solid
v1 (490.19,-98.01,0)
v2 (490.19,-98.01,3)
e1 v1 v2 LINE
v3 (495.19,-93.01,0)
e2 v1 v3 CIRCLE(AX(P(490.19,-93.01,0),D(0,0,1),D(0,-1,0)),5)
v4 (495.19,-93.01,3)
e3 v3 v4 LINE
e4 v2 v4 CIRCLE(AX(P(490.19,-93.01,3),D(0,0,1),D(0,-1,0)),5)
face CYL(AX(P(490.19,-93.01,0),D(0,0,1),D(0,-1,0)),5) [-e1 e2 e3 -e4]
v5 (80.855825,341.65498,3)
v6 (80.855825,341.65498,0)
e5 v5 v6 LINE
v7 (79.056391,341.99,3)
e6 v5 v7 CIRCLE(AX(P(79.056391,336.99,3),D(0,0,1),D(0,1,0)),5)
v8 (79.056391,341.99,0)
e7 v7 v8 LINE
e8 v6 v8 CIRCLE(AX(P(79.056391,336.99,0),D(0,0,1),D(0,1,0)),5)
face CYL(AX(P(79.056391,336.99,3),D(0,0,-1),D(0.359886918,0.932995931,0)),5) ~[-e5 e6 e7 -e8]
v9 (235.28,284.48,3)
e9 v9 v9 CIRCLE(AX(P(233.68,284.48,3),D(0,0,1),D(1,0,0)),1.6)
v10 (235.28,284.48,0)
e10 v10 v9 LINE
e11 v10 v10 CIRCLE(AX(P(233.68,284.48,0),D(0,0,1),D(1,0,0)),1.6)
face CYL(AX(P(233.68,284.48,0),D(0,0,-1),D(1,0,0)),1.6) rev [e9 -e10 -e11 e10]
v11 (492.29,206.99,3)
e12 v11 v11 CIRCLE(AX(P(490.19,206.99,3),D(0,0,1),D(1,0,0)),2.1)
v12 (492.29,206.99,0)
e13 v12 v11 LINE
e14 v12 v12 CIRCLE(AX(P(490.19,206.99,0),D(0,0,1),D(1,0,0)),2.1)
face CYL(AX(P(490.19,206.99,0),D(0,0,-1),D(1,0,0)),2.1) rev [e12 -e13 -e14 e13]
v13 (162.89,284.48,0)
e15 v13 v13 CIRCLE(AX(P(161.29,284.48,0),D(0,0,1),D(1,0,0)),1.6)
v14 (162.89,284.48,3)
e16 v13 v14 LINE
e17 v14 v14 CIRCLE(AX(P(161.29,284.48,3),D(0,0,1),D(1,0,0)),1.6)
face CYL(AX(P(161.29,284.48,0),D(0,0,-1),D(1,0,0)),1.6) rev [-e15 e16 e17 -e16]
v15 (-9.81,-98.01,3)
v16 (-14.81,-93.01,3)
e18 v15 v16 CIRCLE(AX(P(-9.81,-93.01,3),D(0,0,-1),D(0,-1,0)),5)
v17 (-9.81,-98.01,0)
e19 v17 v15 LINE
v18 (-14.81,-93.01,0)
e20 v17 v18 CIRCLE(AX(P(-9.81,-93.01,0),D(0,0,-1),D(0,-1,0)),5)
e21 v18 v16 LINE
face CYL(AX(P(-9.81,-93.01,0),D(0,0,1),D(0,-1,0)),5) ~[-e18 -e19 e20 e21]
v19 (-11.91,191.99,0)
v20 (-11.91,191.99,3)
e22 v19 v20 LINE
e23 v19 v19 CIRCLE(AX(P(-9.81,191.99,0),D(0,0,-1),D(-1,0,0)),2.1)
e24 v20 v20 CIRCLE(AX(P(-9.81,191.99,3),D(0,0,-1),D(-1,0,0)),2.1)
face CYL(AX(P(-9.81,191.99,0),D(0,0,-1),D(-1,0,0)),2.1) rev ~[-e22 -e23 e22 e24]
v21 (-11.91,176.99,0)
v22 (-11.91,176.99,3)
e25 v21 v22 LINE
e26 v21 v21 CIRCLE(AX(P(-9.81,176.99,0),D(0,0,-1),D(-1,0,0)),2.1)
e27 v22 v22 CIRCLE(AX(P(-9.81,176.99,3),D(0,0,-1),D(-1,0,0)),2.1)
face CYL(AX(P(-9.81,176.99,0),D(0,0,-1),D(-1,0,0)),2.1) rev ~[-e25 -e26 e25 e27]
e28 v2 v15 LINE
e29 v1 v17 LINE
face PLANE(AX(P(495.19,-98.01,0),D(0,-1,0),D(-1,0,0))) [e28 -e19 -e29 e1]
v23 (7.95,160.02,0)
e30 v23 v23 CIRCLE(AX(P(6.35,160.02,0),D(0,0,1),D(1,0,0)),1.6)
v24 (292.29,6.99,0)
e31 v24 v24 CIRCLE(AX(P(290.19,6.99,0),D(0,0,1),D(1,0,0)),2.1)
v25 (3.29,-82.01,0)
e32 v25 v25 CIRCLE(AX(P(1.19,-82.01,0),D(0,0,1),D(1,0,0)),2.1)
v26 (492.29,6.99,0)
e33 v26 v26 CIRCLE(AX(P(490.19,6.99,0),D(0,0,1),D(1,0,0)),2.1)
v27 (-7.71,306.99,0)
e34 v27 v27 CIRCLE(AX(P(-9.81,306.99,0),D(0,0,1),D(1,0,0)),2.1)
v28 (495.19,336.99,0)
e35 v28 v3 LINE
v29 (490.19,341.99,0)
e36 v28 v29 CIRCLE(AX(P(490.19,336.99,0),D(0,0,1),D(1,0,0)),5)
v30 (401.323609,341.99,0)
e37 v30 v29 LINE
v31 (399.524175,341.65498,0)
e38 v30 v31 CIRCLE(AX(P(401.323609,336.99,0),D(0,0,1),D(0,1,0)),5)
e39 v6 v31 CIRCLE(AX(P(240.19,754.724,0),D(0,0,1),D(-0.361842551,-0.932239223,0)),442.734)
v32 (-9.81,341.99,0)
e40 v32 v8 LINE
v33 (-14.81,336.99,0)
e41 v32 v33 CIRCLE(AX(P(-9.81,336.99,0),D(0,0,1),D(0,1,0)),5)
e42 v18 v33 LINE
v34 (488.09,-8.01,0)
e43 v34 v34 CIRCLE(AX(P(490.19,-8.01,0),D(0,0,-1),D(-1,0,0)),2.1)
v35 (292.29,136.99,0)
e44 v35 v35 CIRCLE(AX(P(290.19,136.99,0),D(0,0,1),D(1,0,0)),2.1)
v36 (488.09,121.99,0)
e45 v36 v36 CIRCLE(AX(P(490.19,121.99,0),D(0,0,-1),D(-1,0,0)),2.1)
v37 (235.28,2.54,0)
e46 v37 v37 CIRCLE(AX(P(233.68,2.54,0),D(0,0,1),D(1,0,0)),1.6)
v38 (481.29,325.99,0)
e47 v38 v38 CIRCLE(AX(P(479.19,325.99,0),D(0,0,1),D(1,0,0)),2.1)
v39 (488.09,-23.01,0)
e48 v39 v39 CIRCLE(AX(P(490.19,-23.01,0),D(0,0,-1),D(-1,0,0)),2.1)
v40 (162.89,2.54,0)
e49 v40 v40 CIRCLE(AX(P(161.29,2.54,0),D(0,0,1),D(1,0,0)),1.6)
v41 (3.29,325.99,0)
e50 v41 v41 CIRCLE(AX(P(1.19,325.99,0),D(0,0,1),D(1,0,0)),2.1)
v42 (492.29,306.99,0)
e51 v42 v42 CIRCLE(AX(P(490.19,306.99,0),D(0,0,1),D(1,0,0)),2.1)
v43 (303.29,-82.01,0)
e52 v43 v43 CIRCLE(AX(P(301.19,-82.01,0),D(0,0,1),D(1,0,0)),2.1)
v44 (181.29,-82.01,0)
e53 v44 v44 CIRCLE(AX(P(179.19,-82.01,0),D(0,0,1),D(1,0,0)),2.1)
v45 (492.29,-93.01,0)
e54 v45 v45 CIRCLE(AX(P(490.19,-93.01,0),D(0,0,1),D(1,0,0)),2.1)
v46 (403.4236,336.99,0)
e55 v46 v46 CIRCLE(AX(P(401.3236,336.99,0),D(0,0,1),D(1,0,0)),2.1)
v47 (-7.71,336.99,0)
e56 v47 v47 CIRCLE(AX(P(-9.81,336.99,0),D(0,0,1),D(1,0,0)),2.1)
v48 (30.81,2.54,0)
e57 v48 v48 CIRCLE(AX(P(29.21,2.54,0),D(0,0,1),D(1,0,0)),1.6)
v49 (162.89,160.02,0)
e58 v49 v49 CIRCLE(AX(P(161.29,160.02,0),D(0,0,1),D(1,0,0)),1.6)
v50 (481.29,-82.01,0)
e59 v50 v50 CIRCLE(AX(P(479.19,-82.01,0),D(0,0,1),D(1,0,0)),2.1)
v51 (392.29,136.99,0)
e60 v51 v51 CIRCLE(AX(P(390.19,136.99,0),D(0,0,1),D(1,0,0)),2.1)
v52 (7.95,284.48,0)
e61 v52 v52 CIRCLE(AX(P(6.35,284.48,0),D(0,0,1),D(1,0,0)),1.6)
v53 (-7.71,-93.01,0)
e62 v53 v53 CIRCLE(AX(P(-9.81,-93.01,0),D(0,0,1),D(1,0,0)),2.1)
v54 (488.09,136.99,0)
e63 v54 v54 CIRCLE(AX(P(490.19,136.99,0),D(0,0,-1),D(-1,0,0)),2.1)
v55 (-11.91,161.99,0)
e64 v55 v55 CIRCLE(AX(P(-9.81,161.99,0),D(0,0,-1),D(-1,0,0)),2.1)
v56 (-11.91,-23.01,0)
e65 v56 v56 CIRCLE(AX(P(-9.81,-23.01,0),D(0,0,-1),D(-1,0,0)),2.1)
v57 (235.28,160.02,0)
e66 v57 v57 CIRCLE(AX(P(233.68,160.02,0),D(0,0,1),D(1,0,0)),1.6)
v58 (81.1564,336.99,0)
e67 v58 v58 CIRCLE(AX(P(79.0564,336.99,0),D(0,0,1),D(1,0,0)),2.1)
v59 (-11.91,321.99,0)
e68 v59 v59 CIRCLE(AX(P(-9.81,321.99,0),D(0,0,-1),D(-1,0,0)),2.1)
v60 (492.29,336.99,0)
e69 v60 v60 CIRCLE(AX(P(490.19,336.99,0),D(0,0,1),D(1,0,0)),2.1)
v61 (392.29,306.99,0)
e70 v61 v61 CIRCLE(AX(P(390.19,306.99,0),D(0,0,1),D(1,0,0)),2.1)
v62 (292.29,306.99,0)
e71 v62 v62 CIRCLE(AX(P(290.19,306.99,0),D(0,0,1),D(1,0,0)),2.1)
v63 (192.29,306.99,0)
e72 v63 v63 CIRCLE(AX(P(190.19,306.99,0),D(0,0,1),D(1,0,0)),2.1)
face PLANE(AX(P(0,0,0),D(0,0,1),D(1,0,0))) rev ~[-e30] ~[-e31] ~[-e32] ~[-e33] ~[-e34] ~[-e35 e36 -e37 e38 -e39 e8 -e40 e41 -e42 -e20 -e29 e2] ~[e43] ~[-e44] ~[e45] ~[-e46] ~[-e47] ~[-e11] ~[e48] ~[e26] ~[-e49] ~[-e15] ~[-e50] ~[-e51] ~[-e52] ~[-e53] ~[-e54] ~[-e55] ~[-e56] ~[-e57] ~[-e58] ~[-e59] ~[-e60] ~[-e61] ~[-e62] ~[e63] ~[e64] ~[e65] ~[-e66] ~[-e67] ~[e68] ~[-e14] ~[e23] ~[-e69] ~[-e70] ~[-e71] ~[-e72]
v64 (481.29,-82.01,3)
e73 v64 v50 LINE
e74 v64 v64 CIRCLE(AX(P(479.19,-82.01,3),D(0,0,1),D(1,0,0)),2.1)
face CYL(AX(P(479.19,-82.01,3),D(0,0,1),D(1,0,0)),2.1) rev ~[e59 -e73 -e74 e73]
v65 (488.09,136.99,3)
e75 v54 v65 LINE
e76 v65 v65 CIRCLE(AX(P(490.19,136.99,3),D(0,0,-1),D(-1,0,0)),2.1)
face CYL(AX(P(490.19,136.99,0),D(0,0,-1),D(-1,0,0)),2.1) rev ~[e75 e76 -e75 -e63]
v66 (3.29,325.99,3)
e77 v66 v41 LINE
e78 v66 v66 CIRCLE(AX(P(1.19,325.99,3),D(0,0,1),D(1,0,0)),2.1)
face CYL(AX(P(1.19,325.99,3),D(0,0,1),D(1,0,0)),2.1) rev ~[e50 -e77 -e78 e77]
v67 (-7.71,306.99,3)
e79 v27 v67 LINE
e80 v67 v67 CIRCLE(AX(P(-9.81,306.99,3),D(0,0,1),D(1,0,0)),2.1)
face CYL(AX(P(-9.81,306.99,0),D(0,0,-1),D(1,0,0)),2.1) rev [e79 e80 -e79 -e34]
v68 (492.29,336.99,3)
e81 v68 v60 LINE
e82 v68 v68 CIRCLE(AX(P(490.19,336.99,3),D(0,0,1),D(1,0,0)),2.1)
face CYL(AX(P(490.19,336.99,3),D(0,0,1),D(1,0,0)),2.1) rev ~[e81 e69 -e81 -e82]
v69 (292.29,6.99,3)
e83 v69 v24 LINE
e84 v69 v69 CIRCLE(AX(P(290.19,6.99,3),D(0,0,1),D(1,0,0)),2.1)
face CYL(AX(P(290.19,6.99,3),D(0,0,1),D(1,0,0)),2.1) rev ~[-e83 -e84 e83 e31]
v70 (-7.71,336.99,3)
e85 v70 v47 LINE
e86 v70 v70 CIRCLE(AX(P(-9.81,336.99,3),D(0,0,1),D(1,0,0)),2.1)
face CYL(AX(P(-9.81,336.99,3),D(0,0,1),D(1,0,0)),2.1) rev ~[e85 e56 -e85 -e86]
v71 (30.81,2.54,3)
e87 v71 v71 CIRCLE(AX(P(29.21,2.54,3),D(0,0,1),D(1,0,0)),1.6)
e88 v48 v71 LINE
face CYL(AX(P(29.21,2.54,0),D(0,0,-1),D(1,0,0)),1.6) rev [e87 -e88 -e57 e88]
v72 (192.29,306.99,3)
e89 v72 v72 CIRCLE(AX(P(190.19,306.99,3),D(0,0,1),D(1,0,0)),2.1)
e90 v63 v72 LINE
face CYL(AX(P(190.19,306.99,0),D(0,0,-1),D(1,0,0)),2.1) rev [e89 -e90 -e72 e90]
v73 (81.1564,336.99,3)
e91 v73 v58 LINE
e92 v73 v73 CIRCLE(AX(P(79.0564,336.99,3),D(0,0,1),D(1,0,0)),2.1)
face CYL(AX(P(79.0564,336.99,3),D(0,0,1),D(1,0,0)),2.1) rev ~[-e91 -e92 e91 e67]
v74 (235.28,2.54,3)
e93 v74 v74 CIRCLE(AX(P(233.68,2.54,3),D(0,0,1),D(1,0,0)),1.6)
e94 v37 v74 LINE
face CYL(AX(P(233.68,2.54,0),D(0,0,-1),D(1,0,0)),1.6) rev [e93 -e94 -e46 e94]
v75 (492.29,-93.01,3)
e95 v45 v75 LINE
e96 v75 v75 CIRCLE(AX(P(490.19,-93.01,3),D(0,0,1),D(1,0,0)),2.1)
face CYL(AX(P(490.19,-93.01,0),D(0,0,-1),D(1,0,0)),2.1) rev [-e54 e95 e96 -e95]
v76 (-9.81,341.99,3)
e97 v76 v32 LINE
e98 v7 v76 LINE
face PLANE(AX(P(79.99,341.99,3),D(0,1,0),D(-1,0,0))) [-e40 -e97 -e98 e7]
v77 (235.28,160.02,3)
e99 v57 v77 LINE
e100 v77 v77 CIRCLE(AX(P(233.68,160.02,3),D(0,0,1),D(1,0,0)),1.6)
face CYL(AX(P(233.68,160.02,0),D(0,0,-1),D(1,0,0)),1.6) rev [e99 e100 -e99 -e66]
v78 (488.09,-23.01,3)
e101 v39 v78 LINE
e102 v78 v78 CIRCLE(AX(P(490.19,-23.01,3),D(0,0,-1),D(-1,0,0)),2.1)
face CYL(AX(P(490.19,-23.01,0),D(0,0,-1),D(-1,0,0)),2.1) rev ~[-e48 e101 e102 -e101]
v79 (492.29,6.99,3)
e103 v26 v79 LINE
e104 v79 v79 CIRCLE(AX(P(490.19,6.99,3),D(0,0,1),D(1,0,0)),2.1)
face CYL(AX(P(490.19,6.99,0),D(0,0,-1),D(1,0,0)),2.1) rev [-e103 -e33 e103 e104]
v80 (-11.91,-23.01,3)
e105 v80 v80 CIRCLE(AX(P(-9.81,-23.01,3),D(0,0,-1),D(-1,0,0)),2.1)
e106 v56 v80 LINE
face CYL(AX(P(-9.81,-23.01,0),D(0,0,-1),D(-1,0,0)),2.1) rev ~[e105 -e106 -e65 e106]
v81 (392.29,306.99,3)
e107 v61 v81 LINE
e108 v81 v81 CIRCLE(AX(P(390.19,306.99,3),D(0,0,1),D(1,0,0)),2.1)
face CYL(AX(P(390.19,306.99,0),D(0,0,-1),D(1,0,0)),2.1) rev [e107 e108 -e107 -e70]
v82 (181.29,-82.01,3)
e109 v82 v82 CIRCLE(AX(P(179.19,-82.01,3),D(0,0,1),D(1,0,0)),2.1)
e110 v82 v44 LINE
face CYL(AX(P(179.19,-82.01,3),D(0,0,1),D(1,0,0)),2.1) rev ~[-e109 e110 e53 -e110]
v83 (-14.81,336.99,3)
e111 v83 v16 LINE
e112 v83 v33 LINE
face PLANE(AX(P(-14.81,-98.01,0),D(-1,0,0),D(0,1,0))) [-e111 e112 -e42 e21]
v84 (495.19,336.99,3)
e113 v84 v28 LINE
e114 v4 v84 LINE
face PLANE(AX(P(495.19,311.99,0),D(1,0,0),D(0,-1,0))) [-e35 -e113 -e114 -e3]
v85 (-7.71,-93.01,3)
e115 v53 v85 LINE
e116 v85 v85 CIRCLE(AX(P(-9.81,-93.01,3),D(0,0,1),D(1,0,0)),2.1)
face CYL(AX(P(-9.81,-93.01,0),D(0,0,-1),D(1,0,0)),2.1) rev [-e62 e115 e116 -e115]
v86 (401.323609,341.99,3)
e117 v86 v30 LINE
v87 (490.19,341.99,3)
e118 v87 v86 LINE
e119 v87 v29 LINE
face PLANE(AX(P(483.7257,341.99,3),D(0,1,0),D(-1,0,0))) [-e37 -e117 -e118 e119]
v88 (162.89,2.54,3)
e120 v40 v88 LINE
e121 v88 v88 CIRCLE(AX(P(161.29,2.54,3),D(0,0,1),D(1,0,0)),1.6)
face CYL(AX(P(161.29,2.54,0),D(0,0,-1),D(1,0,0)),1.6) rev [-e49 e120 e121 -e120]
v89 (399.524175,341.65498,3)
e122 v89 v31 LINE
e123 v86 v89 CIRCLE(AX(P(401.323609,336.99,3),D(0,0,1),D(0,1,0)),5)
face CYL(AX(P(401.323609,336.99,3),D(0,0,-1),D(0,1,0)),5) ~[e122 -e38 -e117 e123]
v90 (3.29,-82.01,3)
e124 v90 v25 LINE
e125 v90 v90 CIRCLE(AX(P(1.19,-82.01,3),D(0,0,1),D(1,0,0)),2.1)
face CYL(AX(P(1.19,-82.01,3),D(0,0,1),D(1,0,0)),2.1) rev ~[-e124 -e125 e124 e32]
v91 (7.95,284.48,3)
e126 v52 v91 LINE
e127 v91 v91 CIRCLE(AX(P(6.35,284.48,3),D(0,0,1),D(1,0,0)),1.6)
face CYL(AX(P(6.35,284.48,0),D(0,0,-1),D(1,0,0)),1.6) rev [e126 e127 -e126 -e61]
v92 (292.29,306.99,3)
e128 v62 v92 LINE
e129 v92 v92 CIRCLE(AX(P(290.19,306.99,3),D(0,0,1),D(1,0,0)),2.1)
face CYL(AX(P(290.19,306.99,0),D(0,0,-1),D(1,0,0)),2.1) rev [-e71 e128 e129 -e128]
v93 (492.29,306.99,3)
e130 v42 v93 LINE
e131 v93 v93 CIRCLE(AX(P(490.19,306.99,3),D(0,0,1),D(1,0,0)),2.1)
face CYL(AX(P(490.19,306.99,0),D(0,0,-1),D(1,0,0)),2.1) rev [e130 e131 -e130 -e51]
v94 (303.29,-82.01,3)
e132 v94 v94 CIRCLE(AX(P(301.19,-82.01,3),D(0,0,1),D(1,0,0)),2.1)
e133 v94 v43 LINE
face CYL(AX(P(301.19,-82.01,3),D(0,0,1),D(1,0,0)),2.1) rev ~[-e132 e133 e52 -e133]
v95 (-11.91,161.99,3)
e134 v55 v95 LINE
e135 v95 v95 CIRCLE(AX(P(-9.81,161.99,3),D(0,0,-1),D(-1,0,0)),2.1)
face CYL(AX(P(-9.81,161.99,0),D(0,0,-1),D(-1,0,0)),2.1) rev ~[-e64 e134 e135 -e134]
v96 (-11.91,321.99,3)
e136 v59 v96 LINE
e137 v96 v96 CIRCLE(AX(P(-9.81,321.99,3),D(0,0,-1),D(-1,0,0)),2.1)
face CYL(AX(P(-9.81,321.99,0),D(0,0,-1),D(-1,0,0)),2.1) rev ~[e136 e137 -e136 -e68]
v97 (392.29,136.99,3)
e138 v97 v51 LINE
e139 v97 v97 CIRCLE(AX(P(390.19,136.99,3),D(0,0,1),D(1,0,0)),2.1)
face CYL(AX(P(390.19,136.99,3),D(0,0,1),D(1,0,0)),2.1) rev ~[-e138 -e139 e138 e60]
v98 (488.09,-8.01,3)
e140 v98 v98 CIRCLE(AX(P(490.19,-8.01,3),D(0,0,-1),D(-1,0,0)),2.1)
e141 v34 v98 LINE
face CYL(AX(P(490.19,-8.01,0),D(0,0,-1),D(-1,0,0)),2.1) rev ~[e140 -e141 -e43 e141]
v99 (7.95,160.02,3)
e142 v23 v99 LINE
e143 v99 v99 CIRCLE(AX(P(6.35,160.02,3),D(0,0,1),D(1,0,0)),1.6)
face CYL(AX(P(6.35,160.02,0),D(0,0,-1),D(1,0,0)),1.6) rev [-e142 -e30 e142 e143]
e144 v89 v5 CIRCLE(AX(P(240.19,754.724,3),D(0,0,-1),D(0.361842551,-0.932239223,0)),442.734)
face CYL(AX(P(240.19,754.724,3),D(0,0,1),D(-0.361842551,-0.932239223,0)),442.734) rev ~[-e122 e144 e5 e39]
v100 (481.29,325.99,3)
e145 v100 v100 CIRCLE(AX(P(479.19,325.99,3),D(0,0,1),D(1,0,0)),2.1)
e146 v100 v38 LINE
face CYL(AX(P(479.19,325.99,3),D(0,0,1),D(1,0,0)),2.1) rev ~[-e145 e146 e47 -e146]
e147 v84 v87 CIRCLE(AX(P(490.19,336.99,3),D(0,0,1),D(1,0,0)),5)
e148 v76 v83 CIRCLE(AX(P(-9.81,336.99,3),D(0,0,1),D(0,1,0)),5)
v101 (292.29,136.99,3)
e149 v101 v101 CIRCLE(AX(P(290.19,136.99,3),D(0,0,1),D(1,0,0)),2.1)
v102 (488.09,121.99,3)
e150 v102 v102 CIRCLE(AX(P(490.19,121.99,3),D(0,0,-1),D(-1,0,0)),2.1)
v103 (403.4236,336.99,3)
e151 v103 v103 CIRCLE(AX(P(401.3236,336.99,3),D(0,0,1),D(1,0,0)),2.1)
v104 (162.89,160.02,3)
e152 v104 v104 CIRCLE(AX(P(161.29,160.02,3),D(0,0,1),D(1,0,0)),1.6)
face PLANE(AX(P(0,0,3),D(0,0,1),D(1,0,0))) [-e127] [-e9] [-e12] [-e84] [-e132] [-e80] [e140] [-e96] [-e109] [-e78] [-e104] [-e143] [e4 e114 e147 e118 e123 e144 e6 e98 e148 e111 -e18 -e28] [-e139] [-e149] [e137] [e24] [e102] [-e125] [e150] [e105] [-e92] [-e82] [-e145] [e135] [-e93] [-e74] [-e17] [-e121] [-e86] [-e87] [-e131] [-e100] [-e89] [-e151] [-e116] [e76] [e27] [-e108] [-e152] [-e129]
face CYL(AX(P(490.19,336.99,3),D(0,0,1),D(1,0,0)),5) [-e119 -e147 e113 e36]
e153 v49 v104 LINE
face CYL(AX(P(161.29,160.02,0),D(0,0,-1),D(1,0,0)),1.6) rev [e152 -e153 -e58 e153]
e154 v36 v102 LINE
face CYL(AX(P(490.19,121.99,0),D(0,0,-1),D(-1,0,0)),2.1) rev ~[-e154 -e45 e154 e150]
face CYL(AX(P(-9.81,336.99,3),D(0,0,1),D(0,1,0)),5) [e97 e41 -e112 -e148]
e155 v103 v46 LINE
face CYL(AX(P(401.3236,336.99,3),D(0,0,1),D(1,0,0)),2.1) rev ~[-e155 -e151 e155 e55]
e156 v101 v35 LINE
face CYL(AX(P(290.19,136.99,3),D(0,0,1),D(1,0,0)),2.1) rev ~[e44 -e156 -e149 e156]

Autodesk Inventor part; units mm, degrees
ref_plane "YZ Plane" through (0, 0, 0) normal (1, 0, 0) x (0, 1, 0)
ref_plane "XZ Plane" through (0, 0, 0) normal (0, 1, 0) x (-1, 0, 0)
ref_plane "XY Plane" through (0, 0, 0) normal (0, 0, 1) x (1, 0, 0)
sketch "スケッチ1" plane through (0, 0, 0) normal (0, 0, 1) x (1, 0, 0)
  circle A0 centre (233.68, 2.54) radius 2.25 construction
  circle A1 centre (161.29, 2.54) radius 2.25 construction
  circle A2 centre (29.21, 2.54) radius 2.25 construction
  circle A3 centre (233.68, 160.02) radius 2.25 construction
  circle A4 centre (161.29, 160.02) radius 2.25 construction
  circle A5 centre (6.35, 160.02) radius 2.25 construction
  circle A6 centre (6.35, 284.48) radius 2.25 construction
  circle A7 centre (161.29, 284.48) radius 2.25 construction
  circle A8 centre (233.68, 284.48) radius 2.25 construction
  circle A9 centre (29.21, 2.54) radius 1.6
  circle A10 centre (161.29, 2.54) radius 1.6
  circle A11 centre (233.68, 2.54) radius 1.6
  circle A12 centre (233.68, 160.02) radius 1.6
  circle A13 centre (161.29, 160.02) radius 1.6
  circle A14 centre (6.35, 160.02) radius 1.6
  circle A15 centre (6.35, 284.48) radius 1.6
  circle A16 centre (161.29, 284.48) radius 1.6
  circle A17 centre (233.68, 284.48) radius 1.6
  line L0 (495.19, -98.01) -> (-14.81, -98.01)
  line L1 (-14.81, -98.01) -> (-14.81, 311.99)
  line L2 (-14.81, 311.99) -> (495.19, 311.99)
  line L3 (495.19, 311.99) -> (495.19, -98.01)
  line L4 (490.19, 306.99) -> (-9.81, 306.99) construction
  line L5 (-9.81, 306.99) -> (-9.81, -93.01) construction
  line L6 (-9.81, -93.01) -> (490.19, -93.01) construction
  line L7 (490.19, -93.01) -> (490.19, 306.99) construction
  circle A18 centre (-9.81, 306.99) radius 2.1
  circle A19 centre (490.19, 306.99) radius 2.1
  circle A20 centre (490.19, -93.01) radius 2.1
  circle A21 centre (-9.81, -93.01) radius 2.1
  circle A22 centre (-9.81, 6.99) radius 2.1
  circle A23 centre (-9.81, 106.99) radius 2.1
  circle A24 centre (-9.81, 206.99) radius 2.1
  circle A25 centre (90.19, 306.99) radius 2.1
  circle A26 centre (190.19, 306.99) radius 2.1
  circle A27 centre (290.19, 306.99) radius 2.1
  circle A28 centre (390.19, 306.99) radius 2.1
  line L8 (490.19, 106.99) -> (-9.81, 106.99) construction
  line L9 (240.19, -93.01) -> (240.19, 306.99) construction
  circle A29 centre (90.19, -93.01) radius 2.1
  circle A30 centre (190.19, -93.01) radius 2.1
  circle A31 centre (290.19, -93.01) radius 2.1
  circle A32 centre (390.19, -93.01) radius 2.1
  circle A33 centre (490.19, 6.99) radius 2.1
  circle A34 centre (490.19, 106.99) radius 2.1
  circle A35 centre (490.19, 206.99) radius 2.1
  point P0 (0, 0)
  point P1 (-3.81, 297.18)
  point P2 (0, 300.99)
  point P3 (3.7629, -59.9187)
  point P4 (-9.81, 106.99)
  dimension "d0" = 3.2
  dimension "d1" = 510
  dimension "d2" = 410
  dimension "d3" = 11
  dimension "d4" = 11
  dimension "d5" = 5
  dimension "d6" = 4.2
  dimension "d7" = 4.2
  dimension "d8" = 4.2
  dimension "d9" = 4.2
  dimension "d10" = 100
  dimension "d11" = 100
  dimension "d13" = 100
  dimension "d14" = 100
  dimension "d15" = 100
  dimension "d16" = 100
  dimension "d17" = 100
  dimension "d18" = 100
  dimension "d19" = 100
  dimension "d23" = 4.2
  dimension "d24" = 4.2
  dimension "d25" = 4.2
  dimension "d26" = 100
  dimension "d27" = 100
  dimension "d55" = 100
extrude "押し出し1" add sketch "スケッチ1" along normal blind 3
fillet "フィレット1" radius 5 4 edges at (495.19, -98.01, 1.5) (-14.81, -98.01, 1.5) (-14.81, 311.99, 1.5) (495.19, 311.99, 1.5)
sketch "スケッチ2" plane through (0, 0, 3) normal (0, 0, 1) x (1, 0, 0)
  line L0 (-6.934, 160.0686) -> (-6.134, 160.0686) construction
  line L1 (-6.134, 160.0686) -> (-6.134, 170.6186) construction
  line L2 (-6.134, 170.6186) -> (-6.934, 170.6186) construction
  line L3 (-6.934, 170.6186) -> (-6.934, 160.0686) construction
  line L4 (-6.934, 159.9686) -> (-6.134, 159.9686) construction
  line L5 (-6.134, 170.7186) -> (-6.934, 170.7186)
  arc A0 (-7.334, 161.353) -> (-6.934, 159.9686) centre (-6.934, 160.7186) ccw
  line L6 (-5.734, 159.9686) -> (-5.734, 170.7186) construction
  arc A1 (-6.934, 170.7186) -> (-7.334, 169.3342) centre (-6.934, 169.9686) ccw
  line L7 (-7.334, 161.353) -> (-7.334, 169.3342)
  arc A2 (-6.134, 159.9686) -> (-6.134, 161.4686) centre (-6.134, 160.7186) ccw construction
  arc A3 (-6.134, 169.2186) -> (-6.134, 170.7186) centre (-6.134, 169.9686) ccw construction
  arc A4 (-6.134, 159.9686) -> (-5.734, 161.353) centre (-6.134, 160.7186) ccw
  arc A5 (-5.734, 169.3342) -> (-6.134, 170.7186) centre (-6.134, 169.9686) ccw
  line L8 (-5.734, 161.353) -> (-5.734, 169.3342)
  line L9 (-6.934, 159.9686) -> (-6.134, 159.9686)
  line L10 (-7.334, 181.753) -> (-7.334, 189.7342)
  arc A6 (-7.334, 181.753) -> (-6.934, 180.3686) centre (-6.934, 181.1186) ccw
  arc A7 (-6.134, 180.3686) -> (-5.734, 181.753) centre (-6.134, 181.1186) ccw
  line L11 (-5.734, 181.753) -> (-5.734, 189.7342)
  line L12 (-6.934, 180.3686) -> (-6.134, 180.3686)
  arc A8 (-6.934, 191.1186) -> (-7.334, 189.7342) centre (-6.934, 190.3686) ccw
  line L13 (-6.134, 191.1186) -> (-6.934, 191.1186)
  arc A9 (-5.734, 189.7342) -> (-6.134, 191.1186) centre (-6.134, 190.3686) ccw
  line L14 (-7.334, 202.153) -> (-7.334, 210.1342)
  arc A10 (-7.334, 202.153) -> (-6.934, 200.7686) centre (-6.934, 201.5186) ccw
  arc A11 (-6.134, 200.7686) -> (-5.734, 202.153) centre (-6.134, 201.5186) ccw
  line L15 (-5.734, 202.153) -> (-5.734, 210.1342)
  line L16 (-6.934, 200.7686) -> (-6.134, 200.7686)
  arc A12 (-6.934, 211.5186) -> (-7.334, 210.1342) centre (-6.934, 210.7686) ccw
  line L17 (-6.134, 211.5186) -> (-6.934, 211.5186)
  arc A13 (-5.734, 210.1342) -> (-6.134, 211.5186) centre (-6.134, 210.7686) ccw
  line L18 (-7.334, 222.553) -> (-7.334, 230.5342)
  arc A14 (-7.334, 222.553) -> (-6.934, 221.1686) centre (-6.934, 221.9186) ccw
  arc A15 (-6.134, 221.1686) -> (-5.734, 222.553) centre (-6.134, 221.9186) ccw
  line L19 (-5.734, 222.553) -> (-5.734, 230.5342)
  line L20 (-6.934, 221.1686) -> (-6.134, 221.1686)
  arc A16 (-6.934, 231.9186) -> (-7.334, 230.5342) centre (-6.934, 231.1686) ccw
  line L21 (-6.134, 231.9186) -> (-6.934, 231.9186)
  arc A17 (-5.734, 230.5342) -> (-6.134, 231.9186) centre (-6.134, 231.1686) ccw
  line L22 (-7.334, 242.953) -> (-7.334, 250.9342)
  arc A18 (-7.334, 242.953) -> (-6.934, 241.5686) centre (-6.934, 242.3186) ccw
  arc A19 (-6.134, 241.5686) -> (-5.734, 242.953) centre (-6.134, 242.3186) ccw
  line L23 (-5.734, 242.953) -> (-5.734, 250.9342)
  line L24 (-6.934, 241.5686) -> (-6.134, 241.5686)
  arc A20 (-6.934, 252.3186) -> (-7.334, 250.9342) centre (-6.934, 251.5686) ccw
  line L25 (-6.134, 252.3186) -> (-6.934, 252.3186)
  arc A21 (-5.734, 250.9342) -> (-6.134, 252.3186) centre (-6.134, 251.5686) ccw
  line L26 (-7.334, 263.353) -> (-7.334, 271.3342)
  arc A22 (-7.334, 263.353) -> (-6.934, 261.9686) centre (-6.934, 262.7186) ccw
  arc A23 (-6.134, 261.9686) -> (-5.734, 263.353) centre (-6.134, 262.7186) ccw
  line L27 (-5.734, 263.353) -> (-5.734, 271.3342)
  line L28 (-6.934, 261.9686) -> (-6.134, 261.9686)
  arc A24 (-6.934, 272.7186) -> (-7.334, 271.3342) centre (-6.934, 271.9686) ccw
  line L29 (-6.134, 272.7186) -> (-6.934, 272.7186)
  arc A25 (-5.734, 271.3342) -> (-6.134, 272.7186) centre (-6.134, 271.9686) ccw
  line L30 (-7.334, 283.753) -> (-7.334, 291.7342)
  arc A26 (-7.334, 283.753) -> (-6.934, 282.3686) centre (-6.934, 283.1186) ccw
  arc A27 (-6.134, 282.3686) -> (-5.734, 283.753) centre (-6.134, 283.1186) ccw
  line L31 (-5.734, 283.753) -> (-5.734, 291.7342)
  line L32 (-6.934, 282.3686) -> (-6.134, 282.3686)
  arc A28 (-6.934, 293.1186) -> (-7.334, 291.7342) centre (-6.934, 292.3686) ccw
  line L33 (-6.134, 293.1186) -> (-6.934, 293.1186)
  arc A29 (-5.734, 291.7342) -> (-6.134, 293.1186) centre (-6.134, 292.3686) ccw
  point P0 (0, 0)
  point P1 (-6.934, 180.4686)
  point P2 (-6.134, 191.0186)
  dimension "d34" = 20.4
  dimension "d37" = 1.5
  dimension "d39" = 0.1
  dimension "d40" = 0.1
  dimension "d41" = 1.6
  dimension "d42" = 0.8
  dimension "d43" = 0.4
  dimension "d46" = 20.4
extrude "押し出し2" [suppressed]
sketch "スケッチ6" plane through (0, 0, 3) normal (0, 0, 1) x (1, 0, 0)
  arc A0 (379.99, -128.01) -> (100.39, -128.01) centre (240.19, -438.744) ccw
  arc A1 (483.7257, -128.01) -> (483.7257, 341.99) centre (-161.4767, 106.99) ccw
  arc A2 (79.99, 341.99) -> (400.39, 341.99) centre (240.19, 754.724) ccw
  arc A3 (-3.3457, 341.99) -> (-3.3457, -128.01) centre (641.8567, 106.99) ccw
  line L0 (-9.81, -98.01) -> (490.19, -98.01) projected
  arc A4 (490.19, -98.01) -> (495.19, -93.01) centre (490.19, -93.01) ccw projected
  line L1 (495.19, -93.01) -> (495.19, 306.99) projected
  arc A5 (495.19, 306.99) -> (490.19, 311.99) centre (490.19, 306.99) ccw projected
  line L2 (490.19, 311.99) -> (-9.81, 311.99) projected
  arc A6 (-9.81, 311.99) -> (-14.81, 306.99) centre (-9.81, 306.99) ccw projected
  line L3 (-14.81, 306.99) -> (-14.81, -93.01) projected
  arc A7 (-14.81, -93.01) -> (-9.81, -98.01) centre (-9.81, -93.01) ccw projected
  line L4 (483.7257, -128.01) -> (379.99, -128.01)
  line L5 (100.39, -128.01) -> (-3.3457, -128.01)
  line L6 (483.7257, 341.99) -> (400.39, 341.99)
  line L7 (79.99, 341.99) -> (-3.3457, 341.99)
  point P0 (0, 0)
  point P1 (-14.59, 308.457)
  point P2 (-14.59, -94.477)
  point P3 (494.97, -94.477)
  point P4 (494.97, 308.457)
  point P5 (240.19, 311.99)
  point P6 (240.19, -98.01)
extrude "押し出し5" add sketch "スケッチ6" against normal up to surface (3 mm away) contours A5 L2 A2 L6 A1 | A3 L7 A2 L2 A6
sketch "スケッチ7" plane through (0, 0, 3) normal (0, 0, 1) x (1, 0, 0)
  arc A0 (495.19, 306.99) -> (494.97, 308.457) centre (490.19, 306.99) ccw projected
  arc A1 (494.97, 308.457) -> (483.7257, 341.99) centre (-161.4767, 106.99) ccw projected
  arc A2 (-3.3457, 341.99) -> (-14.59, 308.457) centre (641.8567, 106.99) ccw projected
  arc A3 (-14.59, 308.457) -> (-14.81, 306.99) centre (-9.81, 306.99) ccw projected
  line L0 (-14.81, 306.99) -> (-14.81, 336.99)
  line L1 (-9.81, 341.99) -> (-3.3457, 341.99)
  arc A4 (495.19, 306.99) -> (494.97, 308.457) centre (490.19, 306.99) ccw projected
  line L2 (495.19, 306.99) -> (495.19, 336.99)
  line L3 (483.7257, 341.99) -> (400.39, 341.99) projected
  line L4 (490.19, 341.99) -> (483.7257, 341.99)
  arc A5 (-9.81, 341.99) -> (-14.81, 336.99) centre (-9.81, 336.99) ccw
  arc A6 (495.19, 336.99) -> (490.19, 341.99) centre (490.19, 336.99) ccw
  point P0 (0, 0)
  point P1 (-14.81, 341.99)
  point P2 (495.19, 341.99)
  dimension "d62" = 5
extrude "押し出し6" add sketch "スケッチ7" against normal up to surface (3 mm away)
fillet "フィレット2" radius 5 2 edges at (400.39, 341.99, 1.5) (79.99, 341.99, 1.5)
sketch "スケッチ8" plane through (0, 0, 3) normal (0, 0, 1) x (1, 0, 0)
  circle A0 centre (490.19, -93.01) radius 2.1 construction
  circle A1 centre (-9.81, -93.01) radius 2.1 construction
  arc A2 (-9.81, 341.99) -> (-14.81, 336.99) centre (-9.81, 336.99) ccw construction
  arc A3 (495.19, 336.99) -> (490.19, 341.99) centre (490.19, 336.99) ccw construction
  circle A4 centre (479.19, -82.01) radius 2.1
  circle A5 centre (1.19, -82.01) radius 2.1
  circle A6 centre (1.19, 325.99) radius 2.1
  circle A7 centre (479.19, 325.99) radius 2.1
  circle A8 centre (490.19, 336.99) radius 2.1
  circle A9 centre (-9.81, 336.99) radius 2.1
  arc A10 (401.3236, 341.99) -> (399.5242, 341.655) centre (401.3236, 336.99) ccw construction
  arc A11 (80.8558, 341.655) -> (79.0564, 341.99) centre (79.0564, 336.99) ccw construction
  circle A12 centre (79.0564, 336.99) radius 2.1
  circle A13 centre (401.3236, 336.99) radius 2.1
  point P0 (0, 0)
  dimension "d63" = 11
  dimension "d64" = 11
  dimension "d65" = 11
  dimension "d66" = 11
  dimension "d67" = 11
  dimension "d68" = 11
  dimension "d69" = 11
  dimension "d70" = 11
extrude "押し出し7" cut sketch "スケッチ8" against normal through all
sketch "スケッチ9" plane through (0, 0, 0) normal (0, 0, -1) x (-1, 0, 0)
  circle A0 centre (-490.19, 6.99) radius 2.1 construction
  line L0 (-490.19, 6.99) -> (-490.19, -23.01) construction
  circle A1 centre (-490.19, -23.01) radius 2.1
  circle A2 centre (-490.19, 106.99) radius 2.1 construction
  line L1 (-490.19, 106.99) -> (-490.19, 136.99) construction
  circle A3 centre (-490.19, 136.99) radius 2.1
  circle A4 centre (9.81, 206.99) radius 2.1 construction
  line L2 (9.81, 206.99) -> (9.81, 176.99) construction
  circle A5 centre (9.81, 176.99) radius 2.1
  circle A6 centre (-490.19, 121.99) radius 2.1
  circle A7 centre (9.81, 191.99) radius 2.1
  circle A8 centre (9.81, 161.99) radius 2.1
  circle A9 centre (9.81, 306.99) radius 2.1 construction
  circle A10 centre (9.81, 336.99) radius 2.1 construction
  circle A11 centre (9.81, 336.99) radius 2.1 construction
  line L3 (9.81, 306.99) -> (9.81, 336.99) construction
  circle A12 centre (9.81, 321.99) radius 2.1
  circle A13 centre (-490.19, -8.01) radius 2.1
  circle A14 centre (9.81, 6.99) radius 2.1 construction
  line L4 (9.81, 6.99) -> (9.81, -23.01) construction
  circle A15 centre (9.81, -23.01) radius 2.1
  point P0 (0, 0)
  dimension "d74" = 30
  dimension "d77" = 15
  dimension "d78" = 30
extrude "押し出し8" cut sketch "スケッチ9" against normal through all
sketch "スケッチ10" plane through (0, 0, 3) normal (0, 0, 1) x (1, 0, 0)
  circle A0 centre (290.19, -93.01) radius 2.1 construction
  circle A1 centre (190.19, -93.01) radius 2.1 construction
  circle A2 centre (479.19, -82.01) radius 2.1 construction
  circle A3 centre (1.19, -82.01) radius 2.1 construction
  circle A4 centre (301.19, -82.01) radius 2.1
  circle A5 centre (179.19, -82.01) radius 2.1
  line L0 (479.19, -82.01) -> (1.19, -82.01) construction
  point P0 (0, 0)
  dimension "d79" = 11
  dimension "d80" = 11
  dimension "d81" = 11
  dimension "d82" = 11
extrude "押し出し9" cut sketch "スケッチ10" against normal up to surface (3 mm away)
sketch "スケッチ11" plane through (0, 0, 3) normal (0, 0, 1) x (1, 0, 0)
  circle A0 centre (490.19, 106.99) radius 2.1 projected
  circle A1 centre (-9.81, 206.99) radius 2.1 projected
  circle A2 centre (-9.81, 106.99) radius 2.1 projected
  circle A3 centre (-9.81, 6.99) radius 2.1 projected
  circle A4 centre (90.19, -93.01) radius 2.1 projected
  circle A5 centre (190.19, -93.01) radius 2.1 projected
  circle A6 centre (290.19, -93.01) radius 2.1 projected
  circle A7 centre (390.19, -93.01) radius 2.1 projected
  circle A8 centre (90.19, 306.99) radius 2.1 projected
  point P0 (0, 0)
extrude "押し出し10" add sketch "スケッチ11" against normal up to surface (3 mm away)
sketch "スケッチ12" plane through (0, 0, 3) normal (0, 0, 1) x (1, 0, 0)
  circle A0 centre (490.19, 6.99) radius 2.1 construction
  circle A1 centre (490.19, 136.99) radius 2.1 construction
  circle A2 centre (490.19, 206.99) radius 2.1 construction
  circle A3 centre (290.19, 306.99) radius 2.1 construction
  circle A4 centre (390.19, 306.99) radius 2.1 construction
  circle A5 centre (390.19, 6.99) radius 2.1
  circle A6 centre (290.19, 6.99) radius 2.1
  circle A7 centre (390.19, 136.99) radius 2.1
  circle A8 centre (290.19, 136.99) radius 2.1
  point P0 (0, 0)
extrude "押し出し11" cut sketch "スケッチ12" against normal up to surface (3 mm away) contours A6 | A7 | A8
equation "\"d10\" = -0.5 * d5 + 0.25 * d2"
equation "\"d11\" = d10"
equation "\"d13\" = -0.4 * d5 + 0.2 * d1"
equation "\"d14\" = d13"
equation "\"d15\" = d13"
equation "\"d16\" = d13"
equation "\"d17\" = d20"
equation "\"d18\" = d20"
equation "\"d19\" = d20"
equation "\"d26\" = d28"
equation "\"d27\" = d26"
equation "\"d40\" = d39"
equation "\"d43\" = -0.5 * d42 + 0.5 * d41"
equation "\"d46\" = d34"
equation "\"d65\" = d63"
equation "\"d66\" = d63"
equation "\"d67\" = d63"
equation "\"d68\" = d63"
equation "\"d69\" = d63"
equation "\"d70\" = d63"
equation "\"d77\" = 0.5 * d74"
equation "\"d79\" = d4"
equation "\"d80\" = d79"
equation "\"d81\" = d79"
equation "\"d82\" = d80"
equation "\"d20\" = -0.4 * d22 + 0.2 * d21"
equation "\"d28\" = -0.5 * d30 + 0.25 * d29"
equation "\"d22\" = 5"
equation "\"d21\" = 510"
equation "\"d30\" = 5"
equation "\"d29\" = 410"
properties part number "riglt_plate_01"
